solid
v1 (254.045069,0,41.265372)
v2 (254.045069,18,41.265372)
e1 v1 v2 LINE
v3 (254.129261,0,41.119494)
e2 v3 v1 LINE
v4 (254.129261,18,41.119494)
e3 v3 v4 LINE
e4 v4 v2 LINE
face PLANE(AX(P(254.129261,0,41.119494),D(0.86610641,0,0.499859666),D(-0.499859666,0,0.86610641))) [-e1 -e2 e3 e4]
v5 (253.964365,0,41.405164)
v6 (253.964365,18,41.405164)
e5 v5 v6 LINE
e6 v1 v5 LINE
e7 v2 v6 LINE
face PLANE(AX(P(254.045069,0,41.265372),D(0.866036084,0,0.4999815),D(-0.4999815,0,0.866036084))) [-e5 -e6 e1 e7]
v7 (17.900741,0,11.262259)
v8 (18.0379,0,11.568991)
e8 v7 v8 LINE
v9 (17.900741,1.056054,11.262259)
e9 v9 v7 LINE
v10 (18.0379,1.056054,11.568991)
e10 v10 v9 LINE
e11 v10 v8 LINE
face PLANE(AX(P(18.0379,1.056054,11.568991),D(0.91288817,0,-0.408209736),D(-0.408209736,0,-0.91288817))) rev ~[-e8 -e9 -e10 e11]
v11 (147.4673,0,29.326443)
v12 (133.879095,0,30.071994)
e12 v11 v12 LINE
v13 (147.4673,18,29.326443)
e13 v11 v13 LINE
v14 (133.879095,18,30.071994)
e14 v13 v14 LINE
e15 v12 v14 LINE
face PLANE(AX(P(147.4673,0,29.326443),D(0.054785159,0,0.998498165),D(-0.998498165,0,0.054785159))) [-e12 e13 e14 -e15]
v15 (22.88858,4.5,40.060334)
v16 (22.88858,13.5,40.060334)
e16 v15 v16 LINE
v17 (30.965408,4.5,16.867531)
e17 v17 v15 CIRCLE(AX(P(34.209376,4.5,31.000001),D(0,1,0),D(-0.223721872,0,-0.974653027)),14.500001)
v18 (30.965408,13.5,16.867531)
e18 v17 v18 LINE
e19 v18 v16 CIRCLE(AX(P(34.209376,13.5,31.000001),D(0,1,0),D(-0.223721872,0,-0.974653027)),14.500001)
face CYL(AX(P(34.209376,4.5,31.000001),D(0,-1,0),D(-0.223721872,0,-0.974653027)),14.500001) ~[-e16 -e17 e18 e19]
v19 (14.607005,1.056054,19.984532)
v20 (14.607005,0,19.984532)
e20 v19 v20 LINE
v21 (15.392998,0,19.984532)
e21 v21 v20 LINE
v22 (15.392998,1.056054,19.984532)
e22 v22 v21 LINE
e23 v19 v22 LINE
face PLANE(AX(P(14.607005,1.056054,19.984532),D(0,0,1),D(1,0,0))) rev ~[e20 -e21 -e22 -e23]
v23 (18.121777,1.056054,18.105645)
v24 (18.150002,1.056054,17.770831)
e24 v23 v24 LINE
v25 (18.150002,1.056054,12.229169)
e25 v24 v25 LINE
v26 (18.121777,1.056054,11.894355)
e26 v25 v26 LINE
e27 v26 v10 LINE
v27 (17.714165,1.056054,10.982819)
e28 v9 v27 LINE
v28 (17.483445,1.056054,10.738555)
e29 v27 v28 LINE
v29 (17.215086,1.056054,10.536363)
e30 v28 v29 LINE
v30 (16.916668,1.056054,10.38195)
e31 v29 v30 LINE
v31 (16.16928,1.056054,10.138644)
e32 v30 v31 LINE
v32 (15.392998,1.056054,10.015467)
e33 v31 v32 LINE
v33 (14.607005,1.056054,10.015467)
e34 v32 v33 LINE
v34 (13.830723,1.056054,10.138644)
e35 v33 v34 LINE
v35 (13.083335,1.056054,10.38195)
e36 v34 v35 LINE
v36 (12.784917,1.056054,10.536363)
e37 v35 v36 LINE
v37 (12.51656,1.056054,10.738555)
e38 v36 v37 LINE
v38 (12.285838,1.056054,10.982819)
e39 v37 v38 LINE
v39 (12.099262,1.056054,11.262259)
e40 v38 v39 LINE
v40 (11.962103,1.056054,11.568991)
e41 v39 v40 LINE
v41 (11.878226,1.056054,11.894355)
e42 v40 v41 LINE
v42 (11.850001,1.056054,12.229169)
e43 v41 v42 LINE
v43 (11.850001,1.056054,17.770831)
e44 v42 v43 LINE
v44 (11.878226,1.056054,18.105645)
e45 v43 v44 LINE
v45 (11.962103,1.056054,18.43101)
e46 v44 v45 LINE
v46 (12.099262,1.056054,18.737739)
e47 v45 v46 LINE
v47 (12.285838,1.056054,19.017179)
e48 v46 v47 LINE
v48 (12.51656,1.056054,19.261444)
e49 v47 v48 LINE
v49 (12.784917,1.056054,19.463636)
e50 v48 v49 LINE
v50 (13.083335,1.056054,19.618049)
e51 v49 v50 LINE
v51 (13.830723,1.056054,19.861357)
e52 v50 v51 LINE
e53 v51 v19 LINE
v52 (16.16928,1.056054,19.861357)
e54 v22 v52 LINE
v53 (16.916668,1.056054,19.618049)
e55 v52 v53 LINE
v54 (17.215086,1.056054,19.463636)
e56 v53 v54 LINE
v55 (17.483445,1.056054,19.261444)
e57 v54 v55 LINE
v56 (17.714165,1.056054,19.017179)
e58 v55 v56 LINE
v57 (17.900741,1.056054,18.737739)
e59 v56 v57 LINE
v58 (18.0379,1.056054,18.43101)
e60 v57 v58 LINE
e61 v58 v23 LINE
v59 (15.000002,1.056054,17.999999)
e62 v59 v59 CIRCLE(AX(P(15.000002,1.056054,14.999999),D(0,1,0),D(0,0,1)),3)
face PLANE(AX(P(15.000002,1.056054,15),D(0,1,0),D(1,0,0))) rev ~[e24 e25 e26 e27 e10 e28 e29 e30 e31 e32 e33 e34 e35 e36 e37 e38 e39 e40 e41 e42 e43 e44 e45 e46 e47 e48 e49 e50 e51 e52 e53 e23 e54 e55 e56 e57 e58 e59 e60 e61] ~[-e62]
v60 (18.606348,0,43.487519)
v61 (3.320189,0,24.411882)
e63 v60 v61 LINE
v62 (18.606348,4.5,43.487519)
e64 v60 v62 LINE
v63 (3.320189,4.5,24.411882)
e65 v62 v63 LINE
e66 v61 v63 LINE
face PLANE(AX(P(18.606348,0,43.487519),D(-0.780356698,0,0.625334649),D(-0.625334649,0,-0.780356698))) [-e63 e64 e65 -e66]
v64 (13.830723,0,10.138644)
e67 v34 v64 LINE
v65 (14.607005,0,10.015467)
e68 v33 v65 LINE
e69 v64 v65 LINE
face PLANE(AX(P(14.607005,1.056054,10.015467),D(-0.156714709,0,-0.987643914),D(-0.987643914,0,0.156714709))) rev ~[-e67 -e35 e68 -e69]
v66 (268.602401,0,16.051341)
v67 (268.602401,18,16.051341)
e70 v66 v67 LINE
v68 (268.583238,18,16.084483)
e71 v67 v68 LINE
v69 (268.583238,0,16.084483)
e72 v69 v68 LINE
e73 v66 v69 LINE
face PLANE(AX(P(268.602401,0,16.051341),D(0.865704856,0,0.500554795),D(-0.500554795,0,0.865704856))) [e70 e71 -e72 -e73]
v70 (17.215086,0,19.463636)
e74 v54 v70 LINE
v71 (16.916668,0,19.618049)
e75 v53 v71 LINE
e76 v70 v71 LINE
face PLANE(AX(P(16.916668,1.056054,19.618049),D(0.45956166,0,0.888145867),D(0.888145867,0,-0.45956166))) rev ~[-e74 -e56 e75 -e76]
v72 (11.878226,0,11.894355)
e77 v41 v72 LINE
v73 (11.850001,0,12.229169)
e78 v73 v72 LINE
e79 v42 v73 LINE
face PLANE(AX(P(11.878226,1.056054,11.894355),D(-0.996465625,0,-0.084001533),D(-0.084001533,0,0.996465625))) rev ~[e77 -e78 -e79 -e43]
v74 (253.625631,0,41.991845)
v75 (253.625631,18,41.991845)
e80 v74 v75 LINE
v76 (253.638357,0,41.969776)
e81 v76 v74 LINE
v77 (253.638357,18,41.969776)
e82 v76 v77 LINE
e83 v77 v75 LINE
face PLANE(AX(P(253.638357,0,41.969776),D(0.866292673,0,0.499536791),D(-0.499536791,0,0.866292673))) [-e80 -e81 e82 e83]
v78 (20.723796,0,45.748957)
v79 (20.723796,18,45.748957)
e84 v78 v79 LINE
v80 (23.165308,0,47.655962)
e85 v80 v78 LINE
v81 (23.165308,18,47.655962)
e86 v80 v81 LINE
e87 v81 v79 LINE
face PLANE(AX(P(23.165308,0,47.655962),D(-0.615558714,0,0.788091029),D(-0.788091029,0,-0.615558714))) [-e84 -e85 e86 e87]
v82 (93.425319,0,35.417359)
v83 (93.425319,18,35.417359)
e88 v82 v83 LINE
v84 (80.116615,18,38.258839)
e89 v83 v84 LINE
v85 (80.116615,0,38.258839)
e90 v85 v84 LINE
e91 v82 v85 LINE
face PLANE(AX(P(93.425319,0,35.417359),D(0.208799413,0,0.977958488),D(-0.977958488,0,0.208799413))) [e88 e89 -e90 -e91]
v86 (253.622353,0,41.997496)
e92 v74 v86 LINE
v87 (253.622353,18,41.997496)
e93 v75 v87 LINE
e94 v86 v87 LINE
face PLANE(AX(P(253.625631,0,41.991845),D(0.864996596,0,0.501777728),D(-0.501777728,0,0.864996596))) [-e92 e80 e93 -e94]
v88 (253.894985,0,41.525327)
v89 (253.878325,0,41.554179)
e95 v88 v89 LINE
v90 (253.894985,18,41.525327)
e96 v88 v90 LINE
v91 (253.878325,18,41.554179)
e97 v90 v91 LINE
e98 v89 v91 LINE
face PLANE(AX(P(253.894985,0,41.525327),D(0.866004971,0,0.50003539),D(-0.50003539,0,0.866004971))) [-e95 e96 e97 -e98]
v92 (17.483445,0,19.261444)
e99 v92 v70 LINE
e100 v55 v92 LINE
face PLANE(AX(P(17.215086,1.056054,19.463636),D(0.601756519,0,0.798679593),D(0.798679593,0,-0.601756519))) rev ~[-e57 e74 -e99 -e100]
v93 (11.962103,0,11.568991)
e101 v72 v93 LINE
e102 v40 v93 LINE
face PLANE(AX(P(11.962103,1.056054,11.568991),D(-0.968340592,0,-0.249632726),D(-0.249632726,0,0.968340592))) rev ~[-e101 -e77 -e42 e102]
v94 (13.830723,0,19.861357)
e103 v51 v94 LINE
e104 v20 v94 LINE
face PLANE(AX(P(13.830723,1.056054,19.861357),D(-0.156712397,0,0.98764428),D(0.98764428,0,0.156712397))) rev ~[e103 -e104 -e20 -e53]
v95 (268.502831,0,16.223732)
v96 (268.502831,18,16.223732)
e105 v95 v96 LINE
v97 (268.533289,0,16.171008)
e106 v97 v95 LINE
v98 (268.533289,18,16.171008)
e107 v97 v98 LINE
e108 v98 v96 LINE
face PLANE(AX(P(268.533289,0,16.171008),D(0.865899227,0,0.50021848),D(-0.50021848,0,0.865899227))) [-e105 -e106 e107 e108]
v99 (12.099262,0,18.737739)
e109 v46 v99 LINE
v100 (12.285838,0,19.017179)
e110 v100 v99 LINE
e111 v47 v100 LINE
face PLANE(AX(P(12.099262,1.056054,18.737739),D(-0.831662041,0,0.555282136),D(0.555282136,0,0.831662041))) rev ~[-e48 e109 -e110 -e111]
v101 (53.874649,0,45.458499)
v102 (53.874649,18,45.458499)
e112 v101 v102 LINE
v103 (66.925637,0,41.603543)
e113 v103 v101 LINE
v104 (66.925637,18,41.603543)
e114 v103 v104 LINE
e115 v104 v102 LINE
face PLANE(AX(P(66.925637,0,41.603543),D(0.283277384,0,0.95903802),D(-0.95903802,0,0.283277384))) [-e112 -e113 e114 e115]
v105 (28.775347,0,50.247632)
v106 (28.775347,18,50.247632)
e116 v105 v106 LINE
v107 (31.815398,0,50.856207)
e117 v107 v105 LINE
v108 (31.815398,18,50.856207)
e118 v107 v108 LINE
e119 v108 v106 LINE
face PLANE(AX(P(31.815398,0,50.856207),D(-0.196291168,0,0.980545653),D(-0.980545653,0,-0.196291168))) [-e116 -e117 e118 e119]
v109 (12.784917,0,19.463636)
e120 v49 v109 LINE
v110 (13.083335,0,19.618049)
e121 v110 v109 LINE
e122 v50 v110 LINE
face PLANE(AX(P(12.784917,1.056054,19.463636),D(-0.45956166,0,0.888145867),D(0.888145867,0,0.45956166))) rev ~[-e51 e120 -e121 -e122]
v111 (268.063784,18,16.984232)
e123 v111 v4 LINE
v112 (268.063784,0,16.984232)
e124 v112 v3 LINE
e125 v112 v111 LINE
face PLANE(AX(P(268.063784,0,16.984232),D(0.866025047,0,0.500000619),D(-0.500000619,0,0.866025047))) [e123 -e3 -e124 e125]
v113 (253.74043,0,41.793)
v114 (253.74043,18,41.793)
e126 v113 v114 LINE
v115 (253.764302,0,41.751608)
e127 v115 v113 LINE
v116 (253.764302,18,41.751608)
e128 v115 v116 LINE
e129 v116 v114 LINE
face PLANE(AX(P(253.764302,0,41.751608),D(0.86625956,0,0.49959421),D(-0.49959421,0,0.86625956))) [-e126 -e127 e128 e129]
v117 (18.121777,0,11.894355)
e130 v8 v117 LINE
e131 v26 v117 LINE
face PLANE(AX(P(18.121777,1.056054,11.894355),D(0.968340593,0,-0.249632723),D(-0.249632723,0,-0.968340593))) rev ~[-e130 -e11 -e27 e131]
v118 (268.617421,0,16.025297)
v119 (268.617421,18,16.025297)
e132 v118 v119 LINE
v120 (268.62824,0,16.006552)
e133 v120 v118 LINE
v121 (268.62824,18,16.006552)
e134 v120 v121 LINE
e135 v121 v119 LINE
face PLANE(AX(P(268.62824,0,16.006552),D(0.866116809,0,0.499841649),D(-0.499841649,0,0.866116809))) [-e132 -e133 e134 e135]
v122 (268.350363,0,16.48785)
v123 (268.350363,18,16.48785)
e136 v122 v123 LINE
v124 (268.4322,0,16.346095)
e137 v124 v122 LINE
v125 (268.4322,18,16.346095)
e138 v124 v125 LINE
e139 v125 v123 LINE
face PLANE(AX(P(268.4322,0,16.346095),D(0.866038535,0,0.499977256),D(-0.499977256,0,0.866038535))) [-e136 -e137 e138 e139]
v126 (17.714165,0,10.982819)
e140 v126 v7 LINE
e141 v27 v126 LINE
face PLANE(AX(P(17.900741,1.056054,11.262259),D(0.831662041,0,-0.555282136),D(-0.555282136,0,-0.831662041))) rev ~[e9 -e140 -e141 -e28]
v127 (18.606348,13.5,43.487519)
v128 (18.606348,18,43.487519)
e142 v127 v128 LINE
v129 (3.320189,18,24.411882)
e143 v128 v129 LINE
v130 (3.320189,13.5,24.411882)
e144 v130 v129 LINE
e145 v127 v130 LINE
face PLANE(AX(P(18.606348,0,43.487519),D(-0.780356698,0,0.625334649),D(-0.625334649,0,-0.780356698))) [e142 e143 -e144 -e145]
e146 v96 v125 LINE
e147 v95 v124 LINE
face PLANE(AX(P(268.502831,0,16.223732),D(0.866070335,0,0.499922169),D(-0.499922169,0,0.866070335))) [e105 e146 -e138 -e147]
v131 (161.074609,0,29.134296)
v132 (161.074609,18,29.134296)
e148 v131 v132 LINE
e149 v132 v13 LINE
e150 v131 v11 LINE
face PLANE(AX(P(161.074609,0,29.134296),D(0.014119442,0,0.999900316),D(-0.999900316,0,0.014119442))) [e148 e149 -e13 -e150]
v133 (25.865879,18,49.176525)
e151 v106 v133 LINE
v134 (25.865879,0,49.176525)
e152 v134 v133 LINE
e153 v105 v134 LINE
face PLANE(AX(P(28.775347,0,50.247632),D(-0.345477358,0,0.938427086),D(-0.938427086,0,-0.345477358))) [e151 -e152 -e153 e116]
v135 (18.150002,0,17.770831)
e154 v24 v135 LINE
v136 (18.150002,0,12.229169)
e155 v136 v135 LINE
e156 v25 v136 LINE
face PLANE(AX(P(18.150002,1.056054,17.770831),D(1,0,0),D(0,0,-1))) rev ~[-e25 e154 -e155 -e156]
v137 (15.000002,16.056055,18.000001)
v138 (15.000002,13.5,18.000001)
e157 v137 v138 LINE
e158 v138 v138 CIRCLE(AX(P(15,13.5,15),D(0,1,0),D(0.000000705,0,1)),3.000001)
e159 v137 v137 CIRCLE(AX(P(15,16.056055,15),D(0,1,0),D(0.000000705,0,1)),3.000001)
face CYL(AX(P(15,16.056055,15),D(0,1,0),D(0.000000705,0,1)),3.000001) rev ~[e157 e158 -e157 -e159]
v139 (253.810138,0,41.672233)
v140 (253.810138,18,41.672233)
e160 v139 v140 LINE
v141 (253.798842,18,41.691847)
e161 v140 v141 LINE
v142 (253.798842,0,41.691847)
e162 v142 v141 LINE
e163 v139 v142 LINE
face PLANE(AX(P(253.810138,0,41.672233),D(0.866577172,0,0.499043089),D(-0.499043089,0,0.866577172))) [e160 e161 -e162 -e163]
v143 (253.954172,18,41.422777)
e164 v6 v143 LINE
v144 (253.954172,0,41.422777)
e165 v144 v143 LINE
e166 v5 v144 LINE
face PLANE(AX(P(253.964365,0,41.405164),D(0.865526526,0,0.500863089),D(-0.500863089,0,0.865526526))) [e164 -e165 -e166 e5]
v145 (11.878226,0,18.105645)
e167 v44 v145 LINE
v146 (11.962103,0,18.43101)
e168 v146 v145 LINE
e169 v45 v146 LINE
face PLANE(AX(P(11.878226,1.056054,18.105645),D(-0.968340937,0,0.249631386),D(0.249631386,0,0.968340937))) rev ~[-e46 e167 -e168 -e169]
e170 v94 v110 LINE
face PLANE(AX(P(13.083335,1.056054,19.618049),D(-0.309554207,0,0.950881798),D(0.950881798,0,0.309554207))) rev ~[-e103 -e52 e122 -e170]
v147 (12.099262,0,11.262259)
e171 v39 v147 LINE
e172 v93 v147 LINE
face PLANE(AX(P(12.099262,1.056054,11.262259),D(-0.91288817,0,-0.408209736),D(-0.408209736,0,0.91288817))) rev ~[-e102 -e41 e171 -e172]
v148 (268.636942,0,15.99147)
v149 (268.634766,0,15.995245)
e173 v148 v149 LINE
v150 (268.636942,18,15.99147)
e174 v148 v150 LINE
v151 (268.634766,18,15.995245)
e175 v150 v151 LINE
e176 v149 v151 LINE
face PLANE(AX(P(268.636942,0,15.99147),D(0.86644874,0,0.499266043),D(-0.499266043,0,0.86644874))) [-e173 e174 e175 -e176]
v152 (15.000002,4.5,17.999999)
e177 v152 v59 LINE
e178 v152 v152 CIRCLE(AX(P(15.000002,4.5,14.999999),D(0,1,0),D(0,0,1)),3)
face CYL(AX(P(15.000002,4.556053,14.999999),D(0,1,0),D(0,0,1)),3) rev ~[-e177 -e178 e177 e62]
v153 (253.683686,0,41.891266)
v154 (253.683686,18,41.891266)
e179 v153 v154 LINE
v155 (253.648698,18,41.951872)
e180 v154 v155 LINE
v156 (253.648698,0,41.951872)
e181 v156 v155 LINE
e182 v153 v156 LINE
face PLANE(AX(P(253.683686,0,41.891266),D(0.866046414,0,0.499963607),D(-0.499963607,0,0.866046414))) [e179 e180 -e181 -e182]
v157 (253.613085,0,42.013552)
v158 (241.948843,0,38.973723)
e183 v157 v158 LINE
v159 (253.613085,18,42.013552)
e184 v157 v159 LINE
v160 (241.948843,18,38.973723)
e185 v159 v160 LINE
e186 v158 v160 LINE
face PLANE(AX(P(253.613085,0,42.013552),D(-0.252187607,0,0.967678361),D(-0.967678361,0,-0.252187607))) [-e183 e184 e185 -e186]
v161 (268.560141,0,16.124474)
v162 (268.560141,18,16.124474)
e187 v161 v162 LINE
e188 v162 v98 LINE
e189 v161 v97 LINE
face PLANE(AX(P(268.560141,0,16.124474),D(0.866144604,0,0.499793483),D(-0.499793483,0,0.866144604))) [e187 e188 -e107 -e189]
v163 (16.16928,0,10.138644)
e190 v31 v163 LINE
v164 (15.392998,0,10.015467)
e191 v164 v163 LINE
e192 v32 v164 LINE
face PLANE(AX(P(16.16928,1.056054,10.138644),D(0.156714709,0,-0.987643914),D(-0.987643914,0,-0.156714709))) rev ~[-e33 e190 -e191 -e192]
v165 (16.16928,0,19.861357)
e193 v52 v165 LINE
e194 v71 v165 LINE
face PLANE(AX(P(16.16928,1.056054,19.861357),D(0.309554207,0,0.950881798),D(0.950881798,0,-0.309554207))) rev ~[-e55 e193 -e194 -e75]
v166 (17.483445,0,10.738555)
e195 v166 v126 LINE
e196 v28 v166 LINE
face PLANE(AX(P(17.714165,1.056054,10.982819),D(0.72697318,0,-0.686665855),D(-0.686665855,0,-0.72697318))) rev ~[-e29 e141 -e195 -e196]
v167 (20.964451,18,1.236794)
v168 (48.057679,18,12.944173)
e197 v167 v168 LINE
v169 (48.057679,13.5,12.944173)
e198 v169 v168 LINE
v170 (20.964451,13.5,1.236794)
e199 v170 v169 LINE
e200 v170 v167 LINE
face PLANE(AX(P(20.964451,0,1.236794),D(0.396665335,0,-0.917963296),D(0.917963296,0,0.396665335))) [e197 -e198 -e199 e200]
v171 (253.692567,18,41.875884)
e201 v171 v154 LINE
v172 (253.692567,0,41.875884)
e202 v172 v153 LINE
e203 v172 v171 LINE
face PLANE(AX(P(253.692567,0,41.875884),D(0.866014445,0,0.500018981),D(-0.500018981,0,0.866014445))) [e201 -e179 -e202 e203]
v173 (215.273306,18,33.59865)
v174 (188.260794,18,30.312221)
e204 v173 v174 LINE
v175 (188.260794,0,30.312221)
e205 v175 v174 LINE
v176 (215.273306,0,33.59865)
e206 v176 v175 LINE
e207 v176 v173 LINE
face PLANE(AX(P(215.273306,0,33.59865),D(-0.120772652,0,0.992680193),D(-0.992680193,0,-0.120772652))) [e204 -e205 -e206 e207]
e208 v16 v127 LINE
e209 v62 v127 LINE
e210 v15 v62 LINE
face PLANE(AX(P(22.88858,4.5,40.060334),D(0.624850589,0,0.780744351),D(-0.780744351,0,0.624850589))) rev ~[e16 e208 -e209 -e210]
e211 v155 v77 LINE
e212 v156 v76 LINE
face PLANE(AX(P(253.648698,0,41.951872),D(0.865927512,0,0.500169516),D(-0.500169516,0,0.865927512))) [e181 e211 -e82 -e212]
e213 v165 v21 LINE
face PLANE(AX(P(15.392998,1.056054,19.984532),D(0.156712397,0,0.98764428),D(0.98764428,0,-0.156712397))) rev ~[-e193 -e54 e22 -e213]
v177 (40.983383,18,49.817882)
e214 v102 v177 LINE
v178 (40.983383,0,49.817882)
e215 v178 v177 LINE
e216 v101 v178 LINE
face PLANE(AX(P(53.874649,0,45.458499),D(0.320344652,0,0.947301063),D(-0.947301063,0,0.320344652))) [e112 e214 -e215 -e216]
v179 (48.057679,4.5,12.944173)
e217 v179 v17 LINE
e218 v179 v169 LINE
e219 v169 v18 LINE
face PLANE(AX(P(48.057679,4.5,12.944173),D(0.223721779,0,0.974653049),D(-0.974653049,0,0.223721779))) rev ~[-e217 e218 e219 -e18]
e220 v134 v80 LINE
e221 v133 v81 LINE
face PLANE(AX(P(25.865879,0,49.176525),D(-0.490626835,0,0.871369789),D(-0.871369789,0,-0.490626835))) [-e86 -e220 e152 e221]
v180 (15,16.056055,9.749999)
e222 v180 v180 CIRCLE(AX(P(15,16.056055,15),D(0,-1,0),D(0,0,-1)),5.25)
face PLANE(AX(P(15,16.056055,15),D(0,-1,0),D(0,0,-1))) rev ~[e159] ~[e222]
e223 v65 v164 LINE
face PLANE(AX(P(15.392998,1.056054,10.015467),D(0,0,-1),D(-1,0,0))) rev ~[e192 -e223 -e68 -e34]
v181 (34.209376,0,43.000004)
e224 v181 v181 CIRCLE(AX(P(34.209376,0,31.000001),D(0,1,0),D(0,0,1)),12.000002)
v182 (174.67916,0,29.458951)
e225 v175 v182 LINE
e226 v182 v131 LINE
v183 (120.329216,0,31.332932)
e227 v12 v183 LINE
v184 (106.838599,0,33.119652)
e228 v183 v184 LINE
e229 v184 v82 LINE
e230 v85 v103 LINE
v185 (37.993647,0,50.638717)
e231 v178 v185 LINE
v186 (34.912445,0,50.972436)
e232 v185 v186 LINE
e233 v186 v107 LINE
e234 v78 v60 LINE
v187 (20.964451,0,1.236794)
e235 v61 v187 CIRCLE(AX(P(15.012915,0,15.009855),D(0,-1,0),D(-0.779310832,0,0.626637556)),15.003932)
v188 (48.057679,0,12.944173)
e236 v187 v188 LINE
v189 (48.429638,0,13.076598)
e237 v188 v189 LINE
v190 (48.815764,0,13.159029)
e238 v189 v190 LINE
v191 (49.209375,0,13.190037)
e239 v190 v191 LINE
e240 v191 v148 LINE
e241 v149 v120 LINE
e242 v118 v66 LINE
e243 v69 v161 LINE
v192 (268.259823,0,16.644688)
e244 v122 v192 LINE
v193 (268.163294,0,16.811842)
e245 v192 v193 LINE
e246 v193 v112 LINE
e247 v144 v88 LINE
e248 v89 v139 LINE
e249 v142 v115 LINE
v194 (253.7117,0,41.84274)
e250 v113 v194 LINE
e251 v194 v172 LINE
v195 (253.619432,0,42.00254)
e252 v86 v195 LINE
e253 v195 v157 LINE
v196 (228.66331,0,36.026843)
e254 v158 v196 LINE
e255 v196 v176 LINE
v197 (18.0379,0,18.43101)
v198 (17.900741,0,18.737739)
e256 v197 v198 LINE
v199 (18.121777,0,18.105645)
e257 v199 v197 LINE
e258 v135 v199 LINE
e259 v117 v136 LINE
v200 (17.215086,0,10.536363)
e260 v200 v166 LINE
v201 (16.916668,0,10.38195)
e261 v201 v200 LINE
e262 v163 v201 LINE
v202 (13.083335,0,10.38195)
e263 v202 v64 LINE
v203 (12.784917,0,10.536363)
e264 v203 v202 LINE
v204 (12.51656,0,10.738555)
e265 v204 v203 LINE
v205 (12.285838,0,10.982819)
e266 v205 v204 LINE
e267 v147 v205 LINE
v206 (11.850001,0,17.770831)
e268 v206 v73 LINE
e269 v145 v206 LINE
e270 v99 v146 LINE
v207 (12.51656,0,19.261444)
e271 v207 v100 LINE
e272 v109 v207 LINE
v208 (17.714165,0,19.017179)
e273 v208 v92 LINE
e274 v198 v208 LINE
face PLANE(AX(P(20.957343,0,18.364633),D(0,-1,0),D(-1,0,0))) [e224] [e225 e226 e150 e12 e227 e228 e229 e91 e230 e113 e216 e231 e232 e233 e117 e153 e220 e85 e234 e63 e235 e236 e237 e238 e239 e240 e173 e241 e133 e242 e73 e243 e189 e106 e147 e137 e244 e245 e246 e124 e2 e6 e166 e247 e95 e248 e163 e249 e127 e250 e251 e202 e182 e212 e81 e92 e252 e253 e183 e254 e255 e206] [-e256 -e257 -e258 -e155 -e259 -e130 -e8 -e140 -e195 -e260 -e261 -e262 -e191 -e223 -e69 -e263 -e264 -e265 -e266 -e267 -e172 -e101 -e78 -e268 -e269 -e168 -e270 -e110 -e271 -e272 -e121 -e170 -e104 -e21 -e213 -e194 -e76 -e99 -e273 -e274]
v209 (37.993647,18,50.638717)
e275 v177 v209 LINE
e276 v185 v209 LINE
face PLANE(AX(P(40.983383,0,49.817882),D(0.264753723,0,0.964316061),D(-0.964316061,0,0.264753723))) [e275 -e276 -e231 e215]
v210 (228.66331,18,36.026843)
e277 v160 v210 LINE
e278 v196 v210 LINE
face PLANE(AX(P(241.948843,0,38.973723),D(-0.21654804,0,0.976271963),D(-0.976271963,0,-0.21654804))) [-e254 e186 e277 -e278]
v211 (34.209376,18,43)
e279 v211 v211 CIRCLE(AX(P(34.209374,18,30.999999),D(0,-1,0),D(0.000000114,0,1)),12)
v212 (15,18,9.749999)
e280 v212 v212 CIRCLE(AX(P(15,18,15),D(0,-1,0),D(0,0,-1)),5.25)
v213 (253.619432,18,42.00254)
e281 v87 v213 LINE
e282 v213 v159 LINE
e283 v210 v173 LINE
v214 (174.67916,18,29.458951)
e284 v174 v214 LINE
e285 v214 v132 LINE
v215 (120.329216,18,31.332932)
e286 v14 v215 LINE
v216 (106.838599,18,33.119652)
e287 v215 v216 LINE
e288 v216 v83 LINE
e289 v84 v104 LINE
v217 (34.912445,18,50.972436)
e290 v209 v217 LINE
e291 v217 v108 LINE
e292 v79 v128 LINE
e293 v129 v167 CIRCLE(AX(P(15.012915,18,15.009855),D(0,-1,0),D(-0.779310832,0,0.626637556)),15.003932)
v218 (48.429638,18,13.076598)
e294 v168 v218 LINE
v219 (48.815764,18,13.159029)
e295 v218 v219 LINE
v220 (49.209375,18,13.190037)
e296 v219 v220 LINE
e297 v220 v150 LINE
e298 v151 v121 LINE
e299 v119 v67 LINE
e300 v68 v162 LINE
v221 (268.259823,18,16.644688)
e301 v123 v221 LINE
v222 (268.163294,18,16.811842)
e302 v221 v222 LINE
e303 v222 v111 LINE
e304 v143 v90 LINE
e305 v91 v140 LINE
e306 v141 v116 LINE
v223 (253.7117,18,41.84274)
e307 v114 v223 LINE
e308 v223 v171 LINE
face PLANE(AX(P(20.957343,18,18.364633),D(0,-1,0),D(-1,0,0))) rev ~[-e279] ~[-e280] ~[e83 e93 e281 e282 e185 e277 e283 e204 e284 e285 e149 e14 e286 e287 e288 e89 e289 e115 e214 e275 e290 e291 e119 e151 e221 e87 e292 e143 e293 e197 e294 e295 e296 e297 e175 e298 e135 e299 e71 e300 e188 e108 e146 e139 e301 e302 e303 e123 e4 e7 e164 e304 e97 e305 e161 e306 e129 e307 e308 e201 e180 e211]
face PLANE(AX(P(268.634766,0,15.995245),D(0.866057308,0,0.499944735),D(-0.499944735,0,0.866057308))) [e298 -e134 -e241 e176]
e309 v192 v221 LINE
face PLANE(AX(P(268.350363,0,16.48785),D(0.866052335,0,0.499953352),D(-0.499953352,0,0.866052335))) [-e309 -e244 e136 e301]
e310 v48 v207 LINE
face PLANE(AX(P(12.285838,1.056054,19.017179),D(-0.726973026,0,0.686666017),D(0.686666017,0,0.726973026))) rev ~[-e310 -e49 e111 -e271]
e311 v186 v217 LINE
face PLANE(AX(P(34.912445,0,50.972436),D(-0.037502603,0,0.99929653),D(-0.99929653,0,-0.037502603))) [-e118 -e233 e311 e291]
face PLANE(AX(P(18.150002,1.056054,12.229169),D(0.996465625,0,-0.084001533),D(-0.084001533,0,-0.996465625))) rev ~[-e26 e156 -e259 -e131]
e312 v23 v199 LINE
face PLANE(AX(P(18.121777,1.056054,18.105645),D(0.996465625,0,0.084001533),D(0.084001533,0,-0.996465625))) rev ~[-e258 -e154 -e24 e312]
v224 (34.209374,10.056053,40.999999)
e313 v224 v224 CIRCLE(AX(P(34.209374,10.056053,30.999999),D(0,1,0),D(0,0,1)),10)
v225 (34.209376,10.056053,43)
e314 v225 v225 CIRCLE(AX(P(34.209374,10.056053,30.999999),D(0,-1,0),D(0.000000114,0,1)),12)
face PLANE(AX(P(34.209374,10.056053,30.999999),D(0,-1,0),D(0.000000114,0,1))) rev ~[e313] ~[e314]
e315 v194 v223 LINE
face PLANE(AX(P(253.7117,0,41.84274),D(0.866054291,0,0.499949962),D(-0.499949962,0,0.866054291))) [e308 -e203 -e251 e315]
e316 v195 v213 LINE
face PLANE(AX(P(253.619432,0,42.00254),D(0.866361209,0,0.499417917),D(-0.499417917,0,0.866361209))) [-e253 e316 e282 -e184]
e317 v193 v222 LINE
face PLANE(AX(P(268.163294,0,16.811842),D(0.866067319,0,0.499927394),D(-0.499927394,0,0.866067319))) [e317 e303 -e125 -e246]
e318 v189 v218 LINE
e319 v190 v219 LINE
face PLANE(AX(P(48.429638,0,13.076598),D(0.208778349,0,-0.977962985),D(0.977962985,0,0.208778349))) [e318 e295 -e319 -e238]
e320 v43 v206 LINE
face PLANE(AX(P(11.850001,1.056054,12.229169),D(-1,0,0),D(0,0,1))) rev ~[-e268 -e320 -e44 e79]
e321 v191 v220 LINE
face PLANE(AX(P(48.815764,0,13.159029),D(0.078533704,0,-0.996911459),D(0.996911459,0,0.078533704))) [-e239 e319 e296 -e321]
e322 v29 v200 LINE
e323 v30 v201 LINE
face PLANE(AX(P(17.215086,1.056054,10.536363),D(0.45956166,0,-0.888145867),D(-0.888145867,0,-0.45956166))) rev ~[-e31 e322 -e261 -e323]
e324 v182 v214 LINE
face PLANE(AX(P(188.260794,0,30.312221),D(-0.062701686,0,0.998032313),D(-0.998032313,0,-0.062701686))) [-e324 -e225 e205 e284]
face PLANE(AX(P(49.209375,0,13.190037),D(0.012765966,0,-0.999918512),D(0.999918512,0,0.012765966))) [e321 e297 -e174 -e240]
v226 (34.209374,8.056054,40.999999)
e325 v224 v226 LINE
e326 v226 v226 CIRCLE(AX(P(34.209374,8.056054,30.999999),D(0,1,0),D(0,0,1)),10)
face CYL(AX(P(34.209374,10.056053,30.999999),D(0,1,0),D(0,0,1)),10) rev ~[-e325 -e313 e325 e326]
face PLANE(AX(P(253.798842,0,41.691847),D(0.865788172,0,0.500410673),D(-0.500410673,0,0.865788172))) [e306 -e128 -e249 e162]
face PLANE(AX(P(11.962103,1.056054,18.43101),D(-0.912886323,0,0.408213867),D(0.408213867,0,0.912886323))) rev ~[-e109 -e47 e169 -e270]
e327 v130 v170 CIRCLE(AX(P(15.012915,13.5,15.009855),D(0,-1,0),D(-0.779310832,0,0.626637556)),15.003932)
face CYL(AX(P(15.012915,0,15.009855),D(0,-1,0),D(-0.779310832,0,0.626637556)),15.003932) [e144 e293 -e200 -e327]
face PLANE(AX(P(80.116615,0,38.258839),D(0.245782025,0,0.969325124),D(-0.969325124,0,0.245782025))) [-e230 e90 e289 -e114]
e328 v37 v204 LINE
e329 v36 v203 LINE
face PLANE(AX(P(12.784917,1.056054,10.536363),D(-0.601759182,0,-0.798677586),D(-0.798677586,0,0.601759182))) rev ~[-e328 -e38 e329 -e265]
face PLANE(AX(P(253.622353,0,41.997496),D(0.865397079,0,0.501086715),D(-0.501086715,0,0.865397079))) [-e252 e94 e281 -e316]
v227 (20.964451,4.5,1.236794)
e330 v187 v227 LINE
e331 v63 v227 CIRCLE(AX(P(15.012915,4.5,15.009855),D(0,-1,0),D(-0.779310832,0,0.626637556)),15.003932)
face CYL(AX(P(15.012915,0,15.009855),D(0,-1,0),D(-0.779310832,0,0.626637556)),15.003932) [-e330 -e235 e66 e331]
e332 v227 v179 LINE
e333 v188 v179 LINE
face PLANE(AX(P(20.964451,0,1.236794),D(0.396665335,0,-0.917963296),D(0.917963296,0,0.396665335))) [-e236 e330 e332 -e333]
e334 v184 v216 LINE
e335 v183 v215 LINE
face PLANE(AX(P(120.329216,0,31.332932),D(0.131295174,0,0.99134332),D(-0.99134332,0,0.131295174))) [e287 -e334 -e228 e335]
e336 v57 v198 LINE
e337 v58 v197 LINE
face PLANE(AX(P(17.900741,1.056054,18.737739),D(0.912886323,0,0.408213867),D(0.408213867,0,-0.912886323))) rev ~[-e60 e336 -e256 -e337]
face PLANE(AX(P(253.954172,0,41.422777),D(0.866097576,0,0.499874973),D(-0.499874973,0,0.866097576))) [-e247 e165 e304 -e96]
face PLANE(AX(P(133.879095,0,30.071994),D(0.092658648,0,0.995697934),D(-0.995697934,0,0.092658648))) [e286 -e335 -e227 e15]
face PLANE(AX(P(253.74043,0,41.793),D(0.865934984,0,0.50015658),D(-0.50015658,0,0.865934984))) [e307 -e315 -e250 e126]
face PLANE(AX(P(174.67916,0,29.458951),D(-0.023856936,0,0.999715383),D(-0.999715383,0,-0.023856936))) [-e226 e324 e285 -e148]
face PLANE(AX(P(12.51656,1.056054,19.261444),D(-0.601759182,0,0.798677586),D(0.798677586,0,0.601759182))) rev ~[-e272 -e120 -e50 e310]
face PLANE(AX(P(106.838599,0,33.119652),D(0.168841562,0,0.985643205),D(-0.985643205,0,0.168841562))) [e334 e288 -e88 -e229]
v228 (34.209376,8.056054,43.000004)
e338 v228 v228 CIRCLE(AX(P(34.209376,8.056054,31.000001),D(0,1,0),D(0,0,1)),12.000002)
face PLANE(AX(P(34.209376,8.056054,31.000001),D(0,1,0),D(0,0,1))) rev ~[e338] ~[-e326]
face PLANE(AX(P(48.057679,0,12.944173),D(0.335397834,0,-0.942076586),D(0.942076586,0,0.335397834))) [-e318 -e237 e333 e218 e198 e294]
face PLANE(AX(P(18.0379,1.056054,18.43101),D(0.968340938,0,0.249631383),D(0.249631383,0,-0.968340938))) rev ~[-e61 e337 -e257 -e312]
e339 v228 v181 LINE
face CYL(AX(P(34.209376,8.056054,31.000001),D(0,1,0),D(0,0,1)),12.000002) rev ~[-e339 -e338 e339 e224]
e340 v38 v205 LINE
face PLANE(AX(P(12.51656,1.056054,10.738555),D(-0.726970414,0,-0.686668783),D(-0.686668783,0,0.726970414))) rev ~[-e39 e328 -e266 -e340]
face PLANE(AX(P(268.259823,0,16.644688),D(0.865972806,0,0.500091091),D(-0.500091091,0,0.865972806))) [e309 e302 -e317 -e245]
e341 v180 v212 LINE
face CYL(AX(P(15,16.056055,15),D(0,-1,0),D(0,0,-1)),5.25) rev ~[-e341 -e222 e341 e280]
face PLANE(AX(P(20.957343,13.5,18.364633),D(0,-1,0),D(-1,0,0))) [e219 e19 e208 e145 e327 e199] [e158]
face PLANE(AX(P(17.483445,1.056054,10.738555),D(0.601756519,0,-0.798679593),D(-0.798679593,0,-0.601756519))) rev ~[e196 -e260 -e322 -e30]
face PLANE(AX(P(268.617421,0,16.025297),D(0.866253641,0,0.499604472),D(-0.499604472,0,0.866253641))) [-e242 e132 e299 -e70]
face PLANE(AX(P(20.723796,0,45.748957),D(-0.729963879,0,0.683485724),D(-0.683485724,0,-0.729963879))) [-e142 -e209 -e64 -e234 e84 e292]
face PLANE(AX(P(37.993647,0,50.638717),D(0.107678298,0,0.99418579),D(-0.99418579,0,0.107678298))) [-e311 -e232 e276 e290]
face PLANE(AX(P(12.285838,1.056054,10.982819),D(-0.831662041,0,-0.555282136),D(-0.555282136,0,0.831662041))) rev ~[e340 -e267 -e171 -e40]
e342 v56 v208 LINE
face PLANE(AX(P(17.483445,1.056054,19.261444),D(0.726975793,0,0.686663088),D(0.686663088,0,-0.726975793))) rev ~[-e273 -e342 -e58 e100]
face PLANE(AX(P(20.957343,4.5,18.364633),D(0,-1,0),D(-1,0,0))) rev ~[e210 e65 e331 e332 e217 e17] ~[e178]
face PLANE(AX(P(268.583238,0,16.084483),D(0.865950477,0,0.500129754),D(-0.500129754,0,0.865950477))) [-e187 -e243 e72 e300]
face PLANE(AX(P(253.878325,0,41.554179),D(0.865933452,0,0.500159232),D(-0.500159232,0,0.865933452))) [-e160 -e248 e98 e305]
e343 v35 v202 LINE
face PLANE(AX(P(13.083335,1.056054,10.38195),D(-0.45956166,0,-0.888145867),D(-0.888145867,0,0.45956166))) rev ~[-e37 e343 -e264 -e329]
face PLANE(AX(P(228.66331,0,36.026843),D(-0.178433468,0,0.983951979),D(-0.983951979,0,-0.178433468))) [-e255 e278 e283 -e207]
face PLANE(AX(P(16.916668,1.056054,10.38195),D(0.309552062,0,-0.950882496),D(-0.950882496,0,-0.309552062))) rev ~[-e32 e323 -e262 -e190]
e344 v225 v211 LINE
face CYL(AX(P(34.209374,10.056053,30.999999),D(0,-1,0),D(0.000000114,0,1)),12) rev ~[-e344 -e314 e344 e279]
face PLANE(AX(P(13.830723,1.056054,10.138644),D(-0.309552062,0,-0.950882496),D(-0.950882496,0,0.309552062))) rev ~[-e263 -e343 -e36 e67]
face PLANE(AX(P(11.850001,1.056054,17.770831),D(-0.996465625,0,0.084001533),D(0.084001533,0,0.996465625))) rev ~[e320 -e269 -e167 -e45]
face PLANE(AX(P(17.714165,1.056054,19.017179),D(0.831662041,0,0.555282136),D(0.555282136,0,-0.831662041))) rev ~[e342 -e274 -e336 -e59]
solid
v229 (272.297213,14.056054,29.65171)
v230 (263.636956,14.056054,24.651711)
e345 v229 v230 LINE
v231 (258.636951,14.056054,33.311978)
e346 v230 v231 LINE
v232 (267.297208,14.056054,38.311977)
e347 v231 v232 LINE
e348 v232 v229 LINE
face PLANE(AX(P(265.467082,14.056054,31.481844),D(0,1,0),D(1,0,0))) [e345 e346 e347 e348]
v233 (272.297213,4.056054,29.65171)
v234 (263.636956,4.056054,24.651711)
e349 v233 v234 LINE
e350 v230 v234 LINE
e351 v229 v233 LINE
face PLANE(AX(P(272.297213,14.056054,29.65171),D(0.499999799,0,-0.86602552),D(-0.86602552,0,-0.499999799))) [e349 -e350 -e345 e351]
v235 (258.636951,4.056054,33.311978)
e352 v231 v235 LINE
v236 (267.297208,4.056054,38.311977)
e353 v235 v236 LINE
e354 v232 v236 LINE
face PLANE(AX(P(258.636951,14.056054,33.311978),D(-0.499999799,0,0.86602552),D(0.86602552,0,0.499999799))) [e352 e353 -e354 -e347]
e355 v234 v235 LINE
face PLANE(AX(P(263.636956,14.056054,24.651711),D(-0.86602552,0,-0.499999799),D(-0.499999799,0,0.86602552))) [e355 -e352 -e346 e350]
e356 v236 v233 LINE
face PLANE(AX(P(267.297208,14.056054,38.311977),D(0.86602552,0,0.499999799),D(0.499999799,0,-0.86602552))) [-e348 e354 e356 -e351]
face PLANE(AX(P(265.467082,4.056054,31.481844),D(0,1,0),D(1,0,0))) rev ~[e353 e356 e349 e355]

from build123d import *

# Parameters (mm, degrees)
EXTRUDE_2_DEPTH     = 18
EXTRUDE_3_DEPTH     = 18
CUT_EXTRUDE_1_DEPTH = 274.954545633
CUT_EXTRUDE_START   = 4.5
CUT_EXTRUDE_8_DEPTH = 9
SKETCH_12_R         = 3.000000492
CUT_EXTRUDE_2_DEPTH = 274.760361364
SKETCH_19_R         = 5.250000395
CUT_EXTRUDE_3_DEPTH = 274.901063636
SKETCH_28_R         = 12.000002389
CUT_EXTRUDE_5_DEPTH = 274.610814509
SKETCH_37_R         = 9.999999776
CUT_EXTRUDE_6_DEPTH = 274.614911801
SKETCH_47_R         = 12.000000104
CUT_EXTRUDE_7_DEPTH = 274.614911801
EXTRUDE_4_DEPTH     = 10
SKETCH_51_R         = 3.000000989
CUT_EXTRUDE_9_DEPTH = 5


with BuildPart() as part:
    # Эскиз49 → Бобышка-Вытянуть2 (new body)
    with BuildSketch(Plane(origin=(0, 0, 0), x_dir=(1, 0, 0), z_dir=(0, 1, 0))):
        with BuildLine():
            Line((268.063783646, -16.98423177), (254.129260778, -41.119493544))
            Line((254.129260778, -41.119493544), (254.045069218, -41.265372187))
            Line((254.045069218, -41.265372187), (253.964364529, -41.405163705))
            Line((253.964364529, -41.405163705), (253.954172134, -41.422776878))
            Line((253.954172134, -41.422776878), (253.894984722, -41.525326669))
            Line((253.894984722, -41.525326669), (253.878325224, -41.554179043))
            Line((253.878325224, -41.554179043), (253.81013751, -41.672233492))
            Line((253.81013751, -41.672233492), (253.79884243, -41.691847146))
            Line((253.79884243, -41.691847146), (253.764301538, -41.751608253))
            Line((253.764301538, -41.751608253), (253.740429878, -41.792999953))
            Line((253.740429878, -41.792999953), (253.711700439, -41.842740029))
            Line((253.711700439, -41.842740029), (253.692567348, -41.875883937))
            Line((253.692567348, -41.875883937), (253.683686256, -41.891265661))
            Line((253.683686256, -41.891265661), (253.64869833, -41.951872408))
            Line((253.64869833, -41.951872408), (253.638356924, -41.969776154))
            Line((253.638356924, -41.969776154), (253.625631332, -41.991844773))
            Line((253.625631332, -41.991844773), (253.622353077, -41.997496039))
            Line((253.622353077, -41.997496039), (253.619432449, -42.002540082))
            Line((253.619432449, -42.002540082), (253.613084555, -42.01355204))
            Line((253.613084555, -42.01355204), (241.948843002, -38.973722607))
            Line((241.948843002, -38.973722607), (228.663310409, -36.026842892))
            Line((228.663310409, -36.026842892), (215.273305774, -33.598650247))
            Line((215.273305774, -33.598650247), (188.260793686, -30.312221497))
            Line((188.260793686, -30.312221497), (174.679160118, -29.458951205))
            Line((174.679160118, -29.458951205), (161.074608564, -29.134295881))
            Line((161.074608564, -29.134295881), (147.467300296, -29.326442629))
            Line((147.467300296, -29.326442629), (133.879095316, -30.07199429))
            Line((133.879095316, -30.07199429), (120.329216123, -31.332932413))
            Line((120.329216123, -31.332932413), (106.838598847, -33.11965242))
            Line((106.838598847, -33.11965242), (93.425318599, -35.417359322))
            Line((93.425318599, -35.417359322), (80.116614699, -38.258839399))
            Line((80.116614699, -38.258839399), (66.925637424, -41.603542864))
            Line((66.925637424, -41.603542864), (53.874649107, -45.458499342))
            Line((53.874649107, -45.458499342), (40.983382612, -49.817882478))
            Line((40.983382612, -49.817882478), (37.993647158, -50.638716668))
            Line((37.993647158, -50.638716668), (34.912444651, -50.972435623))
            Line((34.912444651, -50.972435623), (31.815398484, -50.856206566))
            Line((31.815398484, -50.856206566), (28.775347397, -50.247631967))
            Line((28.775347397, -50.247631967), (25.86587891, -49.176525325))
            Line((25.86587891, -49.176525325), (23.165307939, -47.655962408))
            Line((23.165307939, -47.655962408), (20.723795518, -45.748956501))
            Line((20.723795518, -45.748956501), (18.606347963, -43.487519026))
            Line((18.606347963, -43.487519026), (22.888580337, -40.060333908))
            ThreePointArc((22.888580337, -40.060333908), (20.515961233, -26.231308511), (30.96540831, -16.867531464))
            Line((30.96540831, -16.867531464), (48.057679087, -12.944173068))
            Line((48.057679087, -12.944173068), (48.429638147, -13.076597825))
            Line((48.429638147, -13.076597825), (48.815764487, -13.159029186))
            Line((48.815764487, -13.159029186), (49.209374934, -13.19003664))
            Line((49.209374934, -13.19003664), (268.63694191, -15.991469845))
            Line((268.63694191, -15.991469845), (268.63476634, -15.995245427))
            Line((268.63476634, -15.995245427), (268.628239632, -16.006551683))
            Line((268.628239632, -16.006551683), (268.617421389, -16.025297344))
            Line((268.617421389, -16.025297344), (268.602401018, -16.051340848))
            Line((268.602401018, -16.051340848), (268.583238125, -16.084482893))
            Line((268.583238125, -16.084482893), (268.560141325, -16.124473885))
            Line((268.560141325, -16.124473885), (268.533289433, -16.171008348))
            Line((268.533289433, -16.171008348), (268.502831459, -16.223732382))
            Line((268.502831459, -16.223732382), (268.432199955, -16.34609513))
            Line((268.432199955, -16.34609513), (268.350362778, -16.487849876))
            Line((268.350362778, -16.487849876), (268.259823322, -16.644688323))
            Line((268.259823322, -16.644688323), (268.1632936, -16.811842099))
            Line((268.1632936, -16.811842099), (268.063783646, -16.98423177))
        make_face()
    extrude(amount=EXTRUDE_2_DEPTH)

    # Эскиз50 → Бобышка-Вытянуть3 (add)
    with BuildSketch(Plane(origin=(0, 0, 0), x_dir=(1, 0, 0), z_dir=(0, 1, 0))):
        with BuildLine():
            Line((18.606347963, -43.487519026), (3.320188681, -24.411882))
            ThreePointArc((3.320188681, -24.411882), (3.075097683, -5.921043708), (20.964451369, -1.236794031))
            Line((20.964451369, -1.236794031), (48.057679087, -12.944173068))
            Line((48.057679087, -12.944173068), (30.96540831, -16.867531464))
            ThreePointArc((30.96540831, -16.867531464), (20.515961233, -26.231308511), (22.888580337, -40.060333908))
            Line((22.888580337, -40.060333908), (18.606347963, -43.487519026))
        make_face()
    extrude(amount=EXTRUDE_3_DEPTH)

    # Эскиз6 → Вырез-Вытянуть1 (cut, through all)
    with BuildSketch(Plane(origin=(0, 1.056053559, 0), x_dir=(1, 0, 0), z_dir=(0, 1, 0))):
        Polygon((12.516560033, -19.261443987), (12.784916908, -19.463635981), (13.083335012, -19.618049264), (13.830723241, -19.861357287), (14.607004821, -19.984532148), (15.392998233, -19.984532148), (16.169279814, -19.861357287), (16.916668043, -19.618049264), (17.215086147, -19.463635981), (17.483444884, -19.261443987), (17.714165151, -19.017178565), (17.900740728, -18.737738952), (18.037900329, -18.431009725), (18.121777102, -18.105644733), (18.150001764, -17.770830542), (18.150001764, -12.229168788), (18.121777102, -11.894354597), (18.037900329, -11.568991467), (17.900740728, -11.262258515), (17.714165151, -10.982818902), (17.483444884, -10.738555342), (17.215086147, -10.536363348), (16.916668043, -10.381950065), (16.169279814, -10.138643906), (15.392998233, -10.015467182), (14.607004821, -10.015467182), (13.830723241, -10.138643906), (13.083335012, -10.381950065), (12.784916908, -10.536363348), (12.516560033, -10.738555342), (12.285837904, -10.982818902), (12.099262327, -11.262258515), (11.962102726, -11.568991467), (11.878225952, -11.894354597), (11.85000129, -12.229168788), (11.85000129, -17.770830542), (11.878225952, -18.105644733), (11.962102726, -18.431009725), (12.099262327, -18.737738952), (12.285837904, -19.017178565), align=None)
    extrude(amount=-CUT_EXTRUDE_1_DEPTH, mode=Mode.SUBTRACT)

    # Эскиз50<3> → Вырез-Вытянуть8 (cut)
    with BuildSketch(Plane(origin=(0, 0, 0), x_dir=(1, 0, 0), z_dir=(0, 1, 0)).offset(CUT_EXTRUDE_START)):
        with BuildLine():
            Line((18.606347963, -43.487519026), (3.320188681, -24.411882))
            ThreePointArc((3.320188681, -24.411882), (3.075097683, -5.921043708), (20.964451369, -1.236794031))
            Line((20.964451369, -1.236794031), (48.057679087, -12.944173068))
            Line((48.057679087, -12.944173068), (30.96540831, -16.867531464))
            ThreePointArc((30.96540831, -16.867531464), (20.515961233, -26.231308511), (22.888580337, -40.060333908))
            Line((22.888580337, -40.060333908), (18.606347963, -43.487519026))
        make_face()
    extrude(amount=CUT_EXTRUDE_8_DEPTH, mode=Mode.SUBTRACT)

    # Эскиз12 → Вырез-Вытянуть2 (cut, through all)
    with BuildSketch(Plane(origin=(0, 4.556053318, 0), x_dir=(1, 0, 0), z_dir=(0, 1, 0))):
        with Locations((15.000002459, -14.999998733)):
            Circle(SKETCH_12_R)
    extrude(amount=-CUT_EXTRUDE_2_DEPTH, mode=Mode.SUBTRACT)

    # Эскиз19 → Вырез-Вытянуть3 (cut, through all)
    with BuildSketch(Plane(origin=(0, 16.056055203, 0), x_dir=(-1, 0, 0), z_dir=(0, -1, 0))):
        with Locations((-15.000000345, -14.999999665)):
            Circle(SKETCH_19_R)
    extrude(amount=-CUT_EXTRUDE_3_DEPTH, mode=Mode.SUBTRACT)

    # Эскиз28 → Вырез-Вытянуть5 (cut, through all)
    with BuildSketch(Plane(origin=(0, 8.056053892, 0), x_dir=(1, 0, 0), z_dir=(0, 1, 0))):
        with Locations((34.209375704, -31.000001441)):
            Circle(SKETCH_28_R)
    extrude(amount=-CUT_EXTRUDE_5_DEPTH, mode=Mode.SUBTRACT)

    # Эскиз37 → Вырез-Вытянуть6 (cut, through all)
    with BuildSketch(Plane(origin=(0, 10.056053288, 0), x_dir=(1, 0, 0), z_dir=(0, 1, 0))):
        with Locations((34.209374338, -30.999999493)):
            Circle(SKETCH_37_R)
    extrude(amount=-CUT_EXTRUDE_6_DEPTH, mode=Mode.SUBTRACT)

    # Эскиз47 → Вырез-Вытянуть7 (cut, through all)
    with BuildSketch(Plane(origin=(0, 10.056053288, 0), x_dir=(-1, 0, 0), z_dir=(0, -1, 0))):
        with Locations((-34.209374338, -30.999999493)):
            Circle(SKETCH_47_R)
    extrude(amount=-CUT_EXTRUDE_7_DEPTH, mode=Mode.SUBTRACT)

    # Эскиз51 → Вырез-Вытянуть9 (cut)
    with BuildSketch(Plane(origin=(0, 16.056055203, 0), x_dir=(1, 0, 0), z_dir=(0, 1, 0))):
        with Locations((15.000000345, -14.999999665)):
            Circle(SKETCH_51_R)
    extrude(amount=-CUT_EXTRUDE_9_DEPTH, mode=Mode.SUBTRACT)


with BuildPart() as body_2:
    # Эскиз1 → Бобышка-Вытянуть4 (new body)
    with BuildSketch(Plane(origin=(0, 14.056053944, 0), x_dir=(1, 0, 0), z_dir=(0, 1, 0))):
        Polygon((263.636956116, -24.651711225), (258.636951447, -33.311977983), (267.297208309, -38.311976939), (272.297212979, -29.651710182), align=None)
    extrude(amount=-EXTRUDE_4_DEPTH)


solid = Compound([part.part, body_2.part])
